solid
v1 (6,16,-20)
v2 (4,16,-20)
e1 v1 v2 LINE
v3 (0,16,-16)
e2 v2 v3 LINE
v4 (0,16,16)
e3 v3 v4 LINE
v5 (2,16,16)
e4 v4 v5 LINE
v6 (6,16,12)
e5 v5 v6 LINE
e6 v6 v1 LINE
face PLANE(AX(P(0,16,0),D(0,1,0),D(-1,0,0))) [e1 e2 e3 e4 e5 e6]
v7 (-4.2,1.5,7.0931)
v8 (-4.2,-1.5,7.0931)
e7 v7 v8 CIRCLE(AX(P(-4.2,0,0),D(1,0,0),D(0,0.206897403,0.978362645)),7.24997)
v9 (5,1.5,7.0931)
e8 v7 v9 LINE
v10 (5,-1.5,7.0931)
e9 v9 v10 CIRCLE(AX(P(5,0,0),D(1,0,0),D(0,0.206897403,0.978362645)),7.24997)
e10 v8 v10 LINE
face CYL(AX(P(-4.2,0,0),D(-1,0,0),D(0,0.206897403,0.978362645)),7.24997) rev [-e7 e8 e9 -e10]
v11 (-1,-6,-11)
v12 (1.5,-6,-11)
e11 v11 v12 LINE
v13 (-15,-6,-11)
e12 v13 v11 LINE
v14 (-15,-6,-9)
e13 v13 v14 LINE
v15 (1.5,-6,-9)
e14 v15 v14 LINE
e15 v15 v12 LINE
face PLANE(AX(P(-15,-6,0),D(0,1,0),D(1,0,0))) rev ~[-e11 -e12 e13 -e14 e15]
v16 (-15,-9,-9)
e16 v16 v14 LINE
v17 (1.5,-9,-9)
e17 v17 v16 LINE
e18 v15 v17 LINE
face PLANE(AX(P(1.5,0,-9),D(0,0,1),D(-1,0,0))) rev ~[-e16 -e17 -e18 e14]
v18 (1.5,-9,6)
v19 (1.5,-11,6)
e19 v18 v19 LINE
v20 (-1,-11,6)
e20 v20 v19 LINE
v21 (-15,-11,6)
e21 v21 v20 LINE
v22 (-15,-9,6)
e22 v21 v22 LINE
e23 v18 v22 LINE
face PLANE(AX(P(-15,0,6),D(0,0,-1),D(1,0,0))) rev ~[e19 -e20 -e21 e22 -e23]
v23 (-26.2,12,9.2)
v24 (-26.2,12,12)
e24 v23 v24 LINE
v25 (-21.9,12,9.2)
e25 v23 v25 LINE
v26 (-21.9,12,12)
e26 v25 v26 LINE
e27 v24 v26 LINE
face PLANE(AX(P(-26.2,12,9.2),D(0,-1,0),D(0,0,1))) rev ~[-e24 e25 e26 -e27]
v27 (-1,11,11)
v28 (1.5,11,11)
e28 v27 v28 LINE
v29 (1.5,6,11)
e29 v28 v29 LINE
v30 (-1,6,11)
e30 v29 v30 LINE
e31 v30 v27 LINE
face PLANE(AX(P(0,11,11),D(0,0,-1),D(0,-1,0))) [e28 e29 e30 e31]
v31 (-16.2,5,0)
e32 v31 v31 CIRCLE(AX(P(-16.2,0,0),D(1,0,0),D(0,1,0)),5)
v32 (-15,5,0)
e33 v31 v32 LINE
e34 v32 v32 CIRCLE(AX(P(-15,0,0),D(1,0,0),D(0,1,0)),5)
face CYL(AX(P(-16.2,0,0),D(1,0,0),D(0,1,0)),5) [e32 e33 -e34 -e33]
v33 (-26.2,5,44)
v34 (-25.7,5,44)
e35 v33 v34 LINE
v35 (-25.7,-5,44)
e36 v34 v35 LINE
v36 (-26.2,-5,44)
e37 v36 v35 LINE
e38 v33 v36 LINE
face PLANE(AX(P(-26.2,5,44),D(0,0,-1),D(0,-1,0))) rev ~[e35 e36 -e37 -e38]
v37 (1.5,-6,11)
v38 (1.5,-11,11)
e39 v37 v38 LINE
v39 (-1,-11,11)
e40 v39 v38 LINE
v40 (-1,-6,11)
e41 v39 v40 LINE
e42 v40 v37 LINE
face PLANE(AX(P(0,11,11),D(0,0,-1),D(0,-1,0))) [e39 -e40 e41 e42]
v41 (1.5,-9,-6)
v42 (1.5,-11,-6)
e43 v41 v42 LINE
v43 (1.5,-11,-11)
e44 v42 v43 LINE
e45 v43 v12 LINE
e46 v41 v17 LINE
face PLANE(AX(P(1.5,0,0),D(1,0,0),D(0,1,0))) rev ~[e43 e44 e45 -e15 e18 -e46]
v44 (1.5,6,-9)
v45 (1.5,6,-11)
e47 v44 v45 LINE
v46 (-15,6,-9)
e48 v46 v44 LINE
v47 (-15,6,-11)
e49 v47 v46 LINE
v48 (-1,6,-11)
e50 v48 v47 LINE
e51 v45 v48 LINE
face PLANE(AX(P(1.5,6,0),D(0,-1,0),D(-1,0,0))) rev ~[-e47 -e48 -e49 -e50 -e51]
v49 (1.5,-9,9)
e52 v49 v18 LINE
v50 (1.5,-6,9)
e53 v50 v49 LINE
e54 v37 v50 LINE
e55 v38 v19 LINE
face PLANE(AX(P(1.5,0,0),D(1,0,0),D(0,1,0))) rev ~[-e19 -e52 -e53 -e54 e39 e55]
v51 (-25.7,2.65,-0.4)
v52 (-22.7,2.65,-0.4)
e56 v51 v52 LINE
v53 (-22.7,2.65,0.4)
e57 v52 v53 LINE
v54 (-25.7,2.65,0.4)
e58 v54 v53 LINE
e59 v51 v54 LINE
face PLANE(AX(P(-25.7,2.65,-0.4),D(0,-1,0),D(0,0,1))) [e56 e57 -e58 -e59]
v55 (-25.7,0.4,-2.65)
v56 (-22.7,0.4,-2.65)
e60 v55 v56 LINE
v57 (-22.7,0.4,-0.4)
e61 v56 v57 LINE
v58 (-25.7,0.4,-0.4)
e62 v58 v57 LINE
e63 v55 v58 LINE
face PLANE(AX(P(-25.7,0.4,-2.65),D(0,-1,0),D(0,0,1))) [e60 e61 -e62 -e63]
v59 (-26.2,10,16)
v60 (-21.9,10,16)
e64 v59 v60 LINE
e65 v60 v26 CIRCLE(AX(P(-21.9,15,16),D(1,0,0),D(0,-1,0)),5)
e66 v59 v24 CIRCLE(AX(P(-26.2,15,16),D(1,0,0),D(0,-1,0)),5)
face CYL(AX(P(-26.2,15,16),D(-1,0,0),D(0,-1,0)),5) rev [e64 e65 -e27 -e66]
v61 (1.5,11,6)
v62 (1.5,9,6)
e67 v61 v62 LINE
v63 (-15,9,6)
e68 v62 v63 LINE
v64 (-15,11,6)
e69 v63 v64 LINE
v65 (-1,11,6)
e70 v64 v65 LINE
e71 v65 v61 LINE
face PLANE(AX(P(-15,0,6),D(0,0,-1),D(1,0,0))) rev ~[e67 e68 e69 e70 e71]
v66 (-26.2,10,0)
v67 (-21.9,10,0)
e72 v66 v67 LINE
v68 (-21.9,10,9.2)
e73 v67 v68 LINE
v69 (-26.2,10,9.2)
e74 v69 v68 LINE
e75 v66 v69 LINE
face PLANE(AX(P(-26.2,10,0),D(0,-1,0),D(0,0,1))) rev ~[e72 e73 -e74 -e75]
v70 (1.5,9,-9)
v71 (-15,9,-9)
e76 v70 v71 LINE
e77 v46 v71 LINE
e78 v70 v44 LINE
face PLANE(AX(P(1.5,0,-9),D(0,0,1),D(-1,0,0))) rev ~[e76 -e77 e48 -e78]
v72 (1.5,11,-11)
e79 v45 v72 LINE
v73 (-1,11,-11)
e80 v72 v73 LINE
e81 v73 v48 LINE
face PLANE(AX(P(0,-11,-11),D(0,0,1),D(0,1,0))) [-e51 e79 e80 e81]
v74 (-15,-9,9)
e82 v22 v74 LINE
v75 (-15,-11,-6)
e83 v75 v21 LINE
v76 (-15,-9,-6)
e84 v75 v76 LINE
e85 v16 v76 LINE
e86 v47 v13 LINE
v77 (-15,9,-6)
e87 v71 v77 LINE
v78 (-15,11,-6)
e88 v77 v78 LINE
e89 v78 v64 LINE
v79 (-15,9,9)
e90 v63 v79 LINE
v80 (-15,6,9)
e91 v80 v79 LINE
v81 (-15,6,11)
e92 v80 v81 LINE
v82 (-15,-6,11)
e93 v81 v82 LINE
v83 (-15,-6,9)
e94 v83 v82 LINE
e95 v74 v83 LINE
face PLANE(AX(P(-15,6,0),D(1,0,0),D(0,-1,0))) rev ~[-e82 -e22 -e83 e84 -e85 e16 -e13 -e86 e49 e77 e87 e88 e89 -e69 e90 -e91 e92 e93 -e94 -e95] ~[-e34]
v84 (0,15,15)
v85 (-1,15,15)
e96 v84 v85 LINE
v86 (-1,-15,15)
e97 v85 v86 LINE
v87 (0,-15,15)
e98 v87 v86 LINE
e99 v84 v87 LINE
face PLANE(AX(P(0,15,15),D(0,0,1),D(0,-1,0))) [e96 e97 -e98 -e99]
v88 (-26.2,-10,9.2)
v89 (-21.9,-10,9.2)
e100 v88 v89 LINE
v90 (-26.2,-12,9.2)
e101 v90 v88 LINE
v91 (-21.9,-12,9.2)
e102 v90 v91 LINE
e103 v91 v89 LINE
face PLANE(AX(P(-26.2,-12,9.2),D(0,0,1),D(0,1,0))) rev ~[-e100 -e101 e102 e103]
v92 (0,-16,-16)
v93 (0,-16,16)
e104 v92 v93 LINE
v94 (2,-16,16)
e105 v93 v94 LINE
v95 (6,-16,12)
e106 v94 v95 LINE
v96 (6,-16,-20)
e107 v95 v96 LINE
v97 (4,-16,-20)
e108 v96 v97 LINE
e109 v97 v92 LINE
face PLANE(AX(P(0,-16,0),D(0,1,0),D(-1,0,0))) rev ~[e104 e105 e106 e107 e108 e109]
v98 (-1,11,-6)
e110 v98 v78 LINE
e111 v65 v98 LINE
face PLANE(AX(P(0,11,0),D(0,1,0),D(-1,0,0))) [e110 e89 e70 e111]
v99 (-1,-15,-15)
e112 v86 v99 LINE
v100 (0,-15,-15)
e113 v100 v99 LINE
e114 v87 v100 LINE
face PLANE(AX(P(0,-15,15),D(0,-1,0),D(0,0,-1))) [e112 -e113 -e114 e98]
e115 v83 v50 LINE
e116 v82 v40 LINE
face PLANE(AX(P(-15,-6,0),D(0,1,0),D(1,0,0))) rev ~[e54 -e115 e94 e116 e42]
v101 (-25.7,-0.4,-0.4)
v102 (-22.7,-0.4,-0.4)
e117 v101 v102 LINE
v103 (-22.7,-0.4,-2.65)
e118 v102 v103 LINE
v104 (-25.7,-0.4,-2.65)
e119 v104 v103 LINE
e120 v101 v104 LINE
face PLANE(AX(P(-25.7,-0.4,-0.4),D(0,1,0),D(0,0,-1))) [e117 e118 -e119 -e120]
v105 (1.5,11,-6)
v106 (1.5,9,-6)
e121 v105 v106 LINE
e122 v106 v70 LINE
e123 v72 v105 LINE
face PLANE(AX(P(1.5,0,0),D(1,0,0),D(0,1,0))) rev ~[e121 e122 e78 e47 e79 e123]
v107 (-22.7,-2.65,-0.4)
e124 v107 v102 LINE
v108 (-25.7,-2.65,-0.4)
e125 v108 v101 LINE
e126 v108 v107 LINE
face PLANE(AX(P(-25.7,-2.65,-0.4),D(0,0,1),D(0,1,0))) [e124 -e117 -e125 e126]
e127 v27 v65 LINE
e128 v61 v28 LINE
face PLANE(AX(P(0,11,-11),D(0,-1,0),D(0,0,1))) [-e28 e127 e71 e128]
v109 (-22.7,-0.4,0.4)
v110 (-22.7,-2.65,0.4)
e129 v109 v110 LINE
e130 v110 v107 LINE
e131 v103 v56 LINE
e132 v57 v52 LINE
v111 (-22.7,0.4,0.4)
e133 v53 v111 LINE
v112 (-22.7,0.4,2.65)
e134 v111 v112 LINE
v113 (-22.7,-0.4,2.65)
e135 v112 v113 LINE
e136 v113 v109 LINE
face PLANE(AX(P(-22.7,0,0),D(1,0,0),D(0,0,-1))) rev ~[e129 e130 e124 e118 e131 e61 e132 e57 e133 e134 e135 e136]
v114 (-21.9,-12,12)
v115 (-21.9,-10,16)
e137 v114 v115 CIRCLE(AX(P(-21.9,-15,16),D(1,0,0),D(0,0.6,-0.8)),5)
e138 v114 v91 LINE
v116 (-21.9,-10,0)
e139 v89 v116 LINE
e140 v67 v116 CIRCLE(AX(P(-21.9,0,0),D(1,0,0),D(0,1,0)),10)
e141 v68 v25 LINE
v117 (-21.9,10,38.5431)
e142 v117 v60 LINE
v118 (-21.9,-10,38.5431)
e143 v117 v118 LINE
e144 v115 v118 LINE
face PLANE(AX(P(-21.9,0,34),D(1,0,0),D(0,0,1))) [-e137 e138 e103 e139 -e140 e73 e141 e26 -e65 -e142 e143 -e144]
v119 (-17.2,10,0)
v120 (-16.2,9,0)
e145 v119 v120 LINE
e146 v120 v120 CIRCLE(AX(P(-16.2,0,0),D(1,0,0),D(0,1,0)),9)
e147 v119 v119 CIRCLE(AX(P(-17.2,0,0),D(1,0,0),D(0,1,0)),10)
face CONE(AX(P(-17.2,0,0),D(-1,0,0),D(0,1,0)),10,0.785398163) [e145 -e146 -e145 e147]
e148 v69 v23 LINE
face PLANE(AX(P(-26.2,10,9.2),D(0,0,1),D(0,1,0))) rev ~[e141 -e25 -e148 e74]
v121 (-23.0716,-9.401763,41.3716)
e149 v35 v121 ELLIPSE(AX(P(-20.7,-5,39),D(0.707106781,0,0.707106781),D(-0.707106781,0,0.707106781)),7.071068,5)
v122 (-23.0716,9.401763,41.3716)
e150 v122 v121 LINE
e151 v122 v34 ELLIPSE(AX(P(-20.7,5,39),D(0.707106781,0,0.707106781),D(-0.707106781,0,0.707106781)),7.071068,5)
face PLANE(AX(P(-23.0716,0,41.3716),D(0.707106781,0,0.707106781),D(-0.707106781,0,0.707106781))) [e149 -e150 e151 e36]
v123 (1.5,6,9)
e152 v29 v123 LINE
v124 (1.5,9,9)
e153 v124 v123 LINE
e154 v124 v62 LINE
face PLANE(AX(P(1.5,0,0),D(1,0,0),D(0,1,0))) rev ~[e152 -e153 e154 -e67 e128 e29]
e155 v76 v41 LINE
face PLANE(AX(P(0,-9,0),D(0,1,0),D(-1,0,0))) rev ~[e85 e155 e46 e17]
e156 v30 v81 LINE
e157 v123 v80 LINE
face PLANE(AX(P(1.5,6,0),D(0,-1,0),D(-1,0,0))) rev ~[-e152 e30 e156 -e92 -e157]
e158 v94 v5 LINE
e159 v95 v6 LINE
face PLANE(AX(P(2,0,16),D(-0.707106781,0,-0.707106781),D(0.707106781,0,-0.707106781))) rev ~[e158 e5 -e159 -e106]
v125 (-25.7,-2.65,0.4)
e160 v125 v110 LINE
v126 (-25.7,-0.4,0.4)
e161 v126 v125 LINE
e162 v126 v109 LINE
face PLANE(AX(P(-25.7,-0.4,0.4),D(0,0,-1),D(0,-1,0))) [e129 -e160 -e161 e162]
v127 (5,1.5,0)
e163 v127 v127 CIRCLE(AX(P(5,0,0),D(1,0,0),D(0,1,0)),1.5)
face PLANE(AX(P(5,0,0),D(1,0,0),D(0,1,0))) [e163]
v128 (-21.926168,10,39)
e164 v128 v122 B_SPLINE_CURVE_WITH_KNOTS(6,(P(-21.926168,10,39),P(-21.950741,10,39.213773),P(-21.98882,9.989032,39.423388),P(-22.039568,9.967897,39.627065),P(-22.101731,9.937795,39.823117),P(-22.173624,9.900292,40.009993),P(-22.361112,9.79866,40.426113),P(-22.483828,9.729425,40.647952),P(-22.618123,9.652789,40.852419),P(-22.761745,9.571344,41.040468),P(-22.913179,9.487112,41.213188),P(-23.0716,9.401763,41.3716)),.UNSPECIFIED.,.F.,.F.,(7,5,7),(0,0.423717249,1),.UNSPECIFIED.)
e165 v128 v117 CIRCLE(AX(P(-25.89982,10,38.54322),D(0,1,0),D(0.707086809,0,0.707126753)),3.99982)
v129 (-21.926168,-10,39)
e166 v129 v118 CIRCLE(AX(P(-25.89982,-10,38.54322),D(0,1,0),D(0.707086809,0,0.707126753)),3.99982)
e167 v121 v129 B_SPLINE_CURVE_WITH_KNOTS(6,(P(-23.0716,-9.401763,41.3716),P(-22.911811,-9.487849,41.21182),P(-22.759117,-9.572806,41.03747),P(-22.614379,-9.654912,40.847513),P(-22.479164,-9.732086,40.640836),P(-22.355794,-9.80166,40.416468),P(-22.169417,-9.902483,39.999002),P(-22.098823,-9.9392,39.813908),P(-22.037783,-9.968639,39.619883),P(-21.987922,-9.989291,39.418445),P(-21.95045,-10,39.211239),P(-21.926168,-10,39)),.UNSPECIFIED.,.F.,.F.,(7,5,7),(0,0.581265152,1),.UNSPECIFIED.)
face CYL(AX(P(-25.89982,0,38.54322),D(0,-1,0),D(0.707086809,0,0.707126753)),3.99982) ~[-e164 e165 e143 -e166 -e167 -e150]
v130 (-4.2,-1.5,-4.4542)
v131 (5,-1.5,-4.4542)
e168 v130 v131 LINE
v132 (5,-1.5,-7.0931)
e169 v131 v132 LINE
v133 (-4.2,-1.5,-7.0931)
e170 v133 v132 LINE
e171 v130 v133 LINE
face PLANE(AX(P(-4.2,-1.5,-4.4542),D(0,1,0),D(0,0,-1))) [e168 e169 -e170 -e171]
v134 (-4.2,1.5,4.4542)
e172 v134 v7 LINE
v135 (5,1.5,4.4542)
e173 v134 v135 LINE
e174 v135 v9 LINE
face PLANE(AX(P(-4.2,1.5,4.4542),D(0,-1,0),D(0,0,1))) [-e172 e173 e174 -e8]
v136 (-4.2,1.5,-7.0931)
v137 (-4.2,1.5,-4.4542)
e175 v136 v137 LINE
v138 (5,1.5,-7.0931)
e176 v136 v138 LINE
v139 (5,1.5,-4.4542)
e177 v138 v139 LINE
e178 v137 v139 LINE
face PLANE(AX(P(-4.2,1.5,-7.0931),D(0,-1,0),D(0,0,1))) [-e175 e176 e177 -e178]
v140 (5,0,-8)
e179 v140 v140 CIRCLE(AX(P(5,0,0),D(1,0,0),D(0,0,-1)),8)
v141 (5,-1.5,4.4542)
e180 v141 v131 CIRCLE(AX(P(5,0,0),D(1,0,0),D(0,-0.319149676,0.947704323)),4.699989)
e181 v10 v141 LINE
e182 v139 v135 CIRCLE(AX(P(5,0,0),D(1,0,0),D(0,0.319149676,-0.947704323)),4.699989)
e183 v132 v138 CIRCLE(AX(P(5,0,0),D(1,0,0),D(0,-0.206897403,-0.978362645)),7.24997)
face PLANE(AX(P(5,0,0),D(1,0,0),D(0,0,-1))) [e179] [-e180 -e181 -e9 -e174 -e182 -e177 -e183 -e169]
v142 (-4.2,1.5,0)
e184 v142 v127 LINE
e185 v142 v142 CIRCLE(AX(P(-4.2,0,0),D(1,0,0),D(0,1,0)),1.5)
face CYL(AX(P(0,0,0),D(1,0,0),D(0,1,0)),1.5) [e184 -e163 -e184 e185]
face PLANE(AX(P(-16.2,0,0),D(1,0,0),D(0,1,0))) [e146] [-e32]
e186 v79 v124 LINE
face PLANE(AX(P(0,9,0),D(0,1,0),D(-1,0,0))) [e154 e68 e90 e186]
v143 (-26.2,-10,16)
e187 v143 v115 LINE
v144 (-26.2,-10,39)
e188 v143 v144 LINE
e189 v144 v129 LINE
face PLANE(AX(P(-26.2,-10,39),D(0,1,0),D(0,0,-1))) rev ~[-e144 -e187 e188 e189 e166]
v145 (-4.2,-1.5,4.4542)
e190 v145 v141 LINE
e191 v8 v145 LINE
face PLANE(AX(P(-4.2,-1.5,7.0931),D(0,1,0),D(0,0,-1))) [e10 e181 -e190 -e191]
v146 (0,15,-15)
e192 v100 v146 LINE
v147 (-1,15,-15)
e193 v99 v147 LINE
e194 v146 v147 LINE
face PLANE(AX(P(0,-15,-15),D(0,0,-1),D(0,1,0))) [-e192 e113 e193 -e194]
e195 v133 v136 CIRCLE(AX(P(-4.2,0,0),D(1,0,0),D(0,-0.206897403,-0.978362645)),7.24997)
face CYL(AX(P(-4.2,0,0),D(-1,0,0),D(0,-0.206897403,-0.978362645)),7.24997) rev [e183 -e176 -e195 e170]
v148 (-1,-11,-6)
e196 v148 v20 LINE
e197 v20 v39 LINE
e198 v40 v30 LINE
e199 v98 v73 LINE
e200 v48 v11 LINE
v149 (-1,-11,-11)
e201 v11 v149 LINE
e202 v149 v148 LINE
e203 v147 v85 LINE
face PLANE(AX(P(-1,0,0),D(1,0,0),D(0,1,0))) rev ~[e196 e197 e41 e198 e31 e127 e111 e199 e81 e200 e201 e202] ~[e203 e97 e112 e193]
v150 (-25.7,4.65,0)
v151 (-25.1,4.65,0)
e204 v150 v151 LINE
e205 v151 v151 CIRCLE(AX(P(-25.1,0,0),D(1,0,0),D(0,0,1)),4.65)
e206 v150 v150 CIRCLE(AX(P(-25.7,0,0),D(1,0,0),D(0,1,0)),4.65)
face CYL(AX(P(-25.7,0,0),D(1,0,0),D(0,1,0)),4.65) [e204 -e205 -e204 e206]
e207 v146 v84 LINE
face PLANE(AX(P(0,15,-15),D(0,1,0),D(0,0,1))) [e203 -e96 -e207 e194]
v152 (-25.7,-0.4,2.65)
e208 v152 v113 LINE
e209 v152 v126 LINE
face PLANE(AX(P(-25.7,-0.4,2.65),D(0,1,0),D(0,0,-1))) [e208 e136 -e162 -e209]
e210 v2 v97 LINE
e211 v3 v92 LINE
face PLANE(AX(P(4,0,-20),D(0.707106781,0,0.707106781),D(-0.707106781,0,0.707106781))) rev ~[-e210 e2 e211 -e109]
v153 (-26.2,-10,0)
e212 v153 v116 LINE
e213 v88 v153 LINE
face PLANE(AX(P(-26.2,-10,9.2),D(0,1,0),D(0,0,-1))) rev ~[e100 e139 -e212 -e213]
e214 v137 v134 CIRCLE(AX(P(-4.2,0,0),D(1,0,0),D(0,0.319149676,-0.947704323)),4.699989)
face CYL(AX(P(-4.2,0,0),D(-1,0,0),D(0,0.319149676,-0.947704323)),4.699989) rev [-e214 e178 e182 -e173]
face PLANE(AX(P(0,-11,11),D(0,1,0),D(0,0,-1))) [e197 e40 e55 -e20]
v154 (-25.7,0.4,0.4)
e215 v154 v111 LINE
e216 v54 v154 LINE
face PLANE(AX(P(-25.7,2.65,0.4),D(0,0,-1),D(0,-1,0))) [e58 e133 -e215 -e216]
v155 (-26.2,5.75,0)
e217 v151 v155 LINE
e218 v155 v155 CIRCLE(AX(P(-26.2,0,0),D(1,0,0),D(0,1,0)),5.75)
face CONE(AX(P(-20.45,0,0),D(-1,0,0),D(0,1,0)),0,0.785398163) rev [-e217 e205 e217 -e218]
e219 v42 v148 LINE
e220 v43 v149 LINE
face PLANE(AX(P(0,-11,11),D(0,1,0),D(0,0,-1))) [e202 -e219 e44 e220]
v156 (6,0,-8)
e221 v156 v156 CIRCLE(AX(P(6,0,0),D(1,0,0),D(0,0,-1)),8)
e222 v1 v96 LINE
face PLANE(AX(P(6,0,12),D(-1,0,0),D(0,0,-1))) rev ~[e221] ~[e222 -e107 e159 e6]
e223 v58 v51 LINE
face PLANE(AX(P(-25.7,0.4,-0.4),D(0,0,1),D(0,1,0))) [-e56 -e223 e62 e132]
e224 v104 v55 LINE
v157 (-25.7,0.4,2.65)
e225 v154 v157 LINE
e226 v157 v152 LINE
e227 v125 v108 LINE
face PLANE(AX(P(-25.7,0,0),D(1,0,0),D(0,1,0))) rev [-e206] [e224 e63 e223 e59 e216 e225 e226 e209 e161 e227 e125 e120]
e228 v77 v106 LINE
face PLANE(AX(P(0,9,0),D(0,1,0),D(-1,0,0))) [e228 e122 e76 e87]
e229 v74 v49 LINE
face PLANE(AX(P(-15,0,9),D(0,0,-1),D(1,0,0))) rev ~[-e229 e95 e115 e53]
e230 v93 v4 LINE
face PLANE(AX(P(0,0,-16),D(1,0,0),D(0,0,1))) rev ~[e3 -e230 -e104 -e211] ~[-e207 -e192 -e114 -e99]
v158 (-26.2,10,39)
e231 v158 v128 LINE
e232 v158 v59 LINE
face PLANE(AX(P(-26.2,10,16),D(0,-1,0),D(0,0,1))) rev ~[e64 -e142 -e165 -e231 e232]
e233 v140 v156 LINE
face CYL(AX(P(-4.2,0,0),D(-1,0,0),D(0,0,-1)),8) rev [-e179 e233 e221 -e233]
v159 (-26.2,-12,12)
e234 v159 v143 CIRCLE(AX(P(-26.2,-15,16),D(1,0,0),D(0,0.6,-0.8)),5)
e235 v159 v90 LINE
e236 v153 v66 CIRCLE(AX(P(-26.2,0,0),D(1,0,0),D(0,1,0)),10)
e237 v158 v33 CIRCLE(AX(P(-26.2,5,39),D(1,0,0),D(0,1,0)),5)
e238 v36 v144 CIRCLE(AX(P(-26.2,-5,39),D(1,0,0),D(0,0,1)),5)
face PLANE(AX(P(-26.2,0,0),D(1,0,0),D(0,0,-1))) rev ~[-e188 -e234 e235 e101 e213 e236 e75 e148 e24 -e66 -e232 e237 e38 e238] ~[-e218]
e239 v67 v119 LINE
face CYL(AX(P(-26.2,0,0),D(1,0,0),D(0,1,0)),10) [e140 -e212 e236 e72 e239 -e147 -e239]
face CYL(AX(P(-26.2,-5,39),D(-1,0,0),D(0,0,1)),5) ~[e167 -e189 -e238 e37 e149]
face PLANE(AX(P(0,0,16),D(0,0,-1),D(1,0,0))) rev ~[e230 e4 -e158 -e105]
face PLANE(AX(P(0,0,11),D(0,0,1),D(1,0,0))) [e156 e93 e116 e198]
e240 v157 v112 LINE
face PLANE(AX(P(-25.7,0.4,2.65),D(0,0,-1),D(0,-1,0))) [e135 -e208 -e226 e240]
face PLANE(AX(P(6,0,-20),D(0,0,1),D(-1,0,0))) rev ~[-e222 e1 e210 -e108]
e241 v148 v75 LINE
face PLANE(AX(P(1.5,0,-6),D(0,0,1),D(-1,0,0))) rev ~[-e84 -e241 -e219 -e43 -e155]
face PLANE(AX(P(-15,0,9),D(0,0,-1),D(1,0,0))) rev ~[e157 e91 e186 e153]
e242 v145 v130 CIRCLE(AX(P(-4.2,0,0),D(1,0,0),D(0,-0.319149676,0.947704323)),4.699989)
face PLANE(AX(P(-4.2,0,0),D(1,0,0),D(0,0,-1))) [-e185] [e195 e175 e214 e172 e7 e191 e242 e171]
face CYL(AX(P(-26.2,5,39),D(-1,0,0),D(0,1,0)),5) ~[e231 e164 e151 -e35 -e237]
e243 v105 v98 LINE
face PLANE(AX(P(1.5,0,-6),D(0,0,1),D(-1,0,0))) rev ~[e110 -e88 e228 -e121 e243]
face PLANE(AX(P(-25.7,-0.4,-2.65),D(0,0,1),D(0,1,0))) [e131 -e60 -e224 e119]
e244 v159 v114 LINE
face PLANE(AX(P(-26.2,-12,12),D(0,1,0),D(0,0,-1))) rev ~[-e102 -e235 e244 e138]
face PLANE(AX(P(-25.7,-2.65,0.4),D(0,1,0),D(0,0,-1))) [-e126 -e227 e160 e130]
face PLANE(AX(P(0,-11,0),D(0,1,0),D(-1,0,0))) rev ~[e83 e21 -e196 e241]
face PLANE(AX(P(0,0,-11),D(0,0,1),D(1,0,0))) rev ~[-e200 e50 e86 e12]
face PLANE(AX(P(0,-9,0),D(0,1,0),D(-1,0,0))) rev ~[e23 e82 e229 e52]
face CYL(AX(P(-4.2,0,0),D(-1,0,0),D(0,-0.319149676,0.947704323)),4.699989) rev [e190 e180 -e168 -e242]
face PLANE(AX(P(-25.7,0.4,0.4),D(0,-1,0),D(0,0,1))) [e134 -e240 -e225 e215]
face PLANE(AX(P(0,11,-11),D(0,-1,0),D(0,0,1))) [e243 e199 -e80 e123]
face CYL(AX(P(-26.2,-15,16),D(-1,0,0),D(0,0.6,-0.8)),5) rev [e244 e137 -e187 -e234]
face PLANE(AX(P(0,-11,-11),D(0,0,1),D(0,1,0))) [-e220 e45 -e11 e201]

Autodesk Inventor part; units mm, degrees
sketch "Sketch_1" plane through (0, 0, 0) normal (0, 1, 0) x (-1, 0, 0)
  line L0 (0, 16) -> (-2, 16)
  line L1 (-2, 16) -> (-6, 12)
  line L2 (-6, 12) -> (-6, -20)
  line L3 (-6, -20) -> (-4, -20)
  line L4 (-4, -20) -> (0, -16)
  line L5 (0, -16) -> (0, 16)
extrude "Extrusion1" add sketch "Sketch_1" along normal mid plane 32
sketch "Sketch_2" plane through (0, 0, 0) normal (1, 0, 0) x (0, 1, 0)
  line L0 (15, 15) -> (-15, 15)
  line L1 (-15, 15) -> (-15, -15)
  line L2 (-15, -15) -> (15, -15)
  line L3 (15, -15) -> (15, 15)
extrude "Extrusion2" add sketch "Sketch_2" against normal blind 1
sketch "Sketch_3" plane through (0, 0, 0) normal (1, 0, 0) x (0, 1, 0)
  line L0 (11, 11) -> (-11, 11)
  line L1 (-11, 11) -> (-11, -11)
  line L2 (-11, -11) -> (11, -11)
  line L3 (11, -11) -> (11, 11)
extrude "Extrusion3" cut sketch "Sketch_3" along normal mid plane 3
sketch "Sketch_5" plane through (0, 0, 0) normal (0, 1, 0) x (-1, 0, 0)
  line L0 (15, -9) -> (15, 9)
  line L1 (15, 9) -> (-1.5, 9)
  line L2 (-1.5, 9) -> (-1.5, -9)
  line L3 (-1.5, -9) -> (15, -9)
extrude "Extrusion4" add sketch "Sketch_5" along normal mid plane 18
sketch "Sketch_4" plane through (0, 0, 0) normal (0, 1, 0) x (-1, 0, 0)
  line L0 (15, -6) -> (15, 6)
  line L1 (15, 6) -> (-1.5, 6)
  line L2 (-1.5, 6) -> (-1.5, -6)
  line L3 (-1.5, -6) -> (15, -6)
extrude "Extrusion5" add sketch "Sketch_4" along normal mid plane 22
sketch "Sketch_7" plane through (0, 0, 0) normal (0, 0, 1) x (1, 0, 0)
  line L0 (-15, 6) -> (-15, -6)
  line L1 (-15, -6) -> (1.5, -6)
  line L2 (1.5, -6) -> (1.5, 6)
  line L3 (1.5, 6) -> (-15, 6)
extrude "Extrusion6" add sketch "Sketch_7" along normal mid plane 22
sketch "Sketch_10" plane through (0, 0, 0) normal (0, 0, 1) x (1, 0, 0)
  line L0 (-15, 0) -> (-20.45, 0)
  line L1 (-20.45, 0) -> (-26.2, 5.75)
  line L2 (-26.2, 5.75) -> (-26.2, 10)
  line L3 (-26.2, 10) -> (-17.2, 10)
  line L4 (-17.2, 10) -> (-16.2, 9)
  line L5 (-16.2, 9) -> (-16.2, 5)
  line L6 (-16.2, 5) -> (-15, 5)
  line L7 (-15, 5) -> (-15, 0)
  line L8 (-15, 0) -> (-20.45, 0)
revolve "Revolution1" add sketch "Sketch_10" angle 360 about axis through (-15, 0, 0) along (1, 0, 0)
sketch "Sketch_11" plane through (0, 0, 0) normal (0, 0, 1) x (1, 0, 0)
  line L0 (-20.4, 0) -> (-26.2, 0)
  line L1 (-25.7, 0) -> (-25.7, 4.65)
  line L2 (-25.7, 4.65) -> (-25.05, 4.65)
  line L3 (-25.05, 4.65) -> (-20.4, 0)
  line L4 (-20.4, 0) -> (-25.7, 0)
revolve "Revolution2" add sketch "Sketch_11" angle 360 about axis through (-20.4, 0, 0) along (1, 0, 0)
sketch "Sketch_12" plane through (-25.7, 0, 0) normal (1, 0, 0) x (0, 0, -1)
  line L0 (-2.65, 0.4) -> (-2.65, -0.4)
  line L1 (-2.65, -0.4) -> (-0.4, -0.4)
  line L2 (-0.4, -0.4) -> (-0.4, -2.65)
  line L3 (-0.4, -2.65) -> (0.4, -2.65)
  line L4 (0.4, -2.65) -> (0.4, -0.4)
  line L5 (0.4, -0.4) -> (2.65, -0.4)
  line L6 (2.65, -0.4) -> (2.65, 0.4)
  line L7 (2.65, 0.4) -> (0.4, 0.4)
  line L8 (0.4, 0.4) -> (0.4, 2.65)
  line L9 (0.4, 2.65) -> (-0.4, 2.65)
  line L10 (-0.4, 2.65) -> (-0.4, 0.4)
  line L11 (-0.4, 0.4) -> (-2.65, 0.4)
extrude "Extrusion7" cut sketch "Sketch_12" along normal blind 3
sketch "Sketch_13" plane through (-26.2, 0, 0) normal (1, 0, 0) x (0, 0, -1)
  arc A0 (-44, -5) -> (-39, -10) centre (-39, -5) ccw
  line L0 (-39, -10) -> (-16, -10)
  arc A1 (-12, -12) -> (-16, -10) centre (-16, -15) ccw
  line L1 (-12, -12) -> (-9.2, -12)
  line L2 (-9.2, -12) -> (-9.2, -10)
  line L3 (-9.2, -10) -> (0, -10)
  line L4 (0, -10) -> (0, -6)
  arc A2 (0, 6) -> (0, -6) centre (0, 0) ccw
  line L5 (0, 6) -> (0, 10)
  line L6 (0, 10) -> (-9.2, 10)
  line L7 (-9.2, 10) -> (-9.2, 12)
  line L8 (-9.2, 12) -> (-12, 12)
  arc A3 (-16, 10) -> (-12, 12) centre (-16, 15) ccw
  line L9 (-16, 10) -> (-39, 10)
  arc A4 (-39, 10) -> (-44, 5) centre (-39, 5) ccw
  line L10 (-44, 5) -> (-44, -5)
extrude "Extrusion8" add sketch "Sketch_13" along normal blind 4.3
sketch "Sketch_14" plane through (0, 0, 0) normal (0, 1, 0) x (-1, 0, 0)
  line L0 (28, 34) -> (28, 49)
  line L1 (28, 49) -> (18, 49)
  line L2 (18, 49) -> (18, 34)
  line L3 (18, 34) -> (21.9, 34)
  line L4 (21.9, 34) -> (21.9, 38.5431)
  arc A0 (23.0716, 41.3716) -> (21.9, 38.5431) centre (25.9, 38.5431) ccw
  line L5 (23.0716, 41.3716) -> (25.7, 44)
  line L6 (25.7, 44) -> (26.2, 44)
  line L7 (26.2, 44) -> (26.2, 34)
  line L8 (26.2, 34) -> (28, 34)
extrude "Extrusion9" cut sketch "Sketch_14" along normal mid plane 20
sketch "Sketch_15" plane through (-4.2, 0, 0) normal (1, 0, 0) x (0, 0, -1)
  circle A0 centre (0, 0) radius 8
extrude "Extrusion10" cut sketch "Sketch_15" along normal blind 10.2
sketch "Sketch_16" plane through (-4.2, 0, 0) normal (1, 0, 0) x (0, 0, -1)
  circle A0 centre (0, 0) radius 8
  arc A1 (-7.0931, 1.5) -> (-7.0931, -1.5) centre (0, 0) ccw
  line L0 (-7.0931, -1.5) -> (-4.4542, -1.5)
  arc A2 (-4.4542, -1.5) -> (4.4542, -1.5) centre (0, 0) ccw
  line L1 (4.4542, -1.5) -> (7.0931, -1.5)
  arc A3 (7.0931, -1.5) -> (7.0931, 1.5) centre (0, 0) ccw
  line L2 (7.0931, 1.5) -> (4.4542, 1.5)
  arc A4 (4.4542, 1.5) -> (-4.4542, 1.5) centre (0, 0) ccw
  line L3 (-4.4542, 1.5) -> (-7.0931, 1.5)
extrude "Extrusion11" add sketch "Sketch_16" along normal blind 9.2
sketch "Sketch_17" plane through (0, 0, 0) normal (1, 0, 0) x (0, 1, 0)
  circle A0 centre (0, 0) radius 1.5
extrude "Extrusion12" add sketch "Sketch_17" along normal mid plane 10
ref_plane "verschluss_XY" through (-1, 0, 0) normal (1, 0, 0) x (0, 0, -1)
ref_plane "verschluss_YZ" through (-1, 0, 0) normal (0, 0, -1) x (0, 1, 0)
ref_plane "verschluss_ZX" through (-1, 0, 0) normal (0, 1, 0) x (1, 0, 0)
properties part number "1XXX_01_05_1"
